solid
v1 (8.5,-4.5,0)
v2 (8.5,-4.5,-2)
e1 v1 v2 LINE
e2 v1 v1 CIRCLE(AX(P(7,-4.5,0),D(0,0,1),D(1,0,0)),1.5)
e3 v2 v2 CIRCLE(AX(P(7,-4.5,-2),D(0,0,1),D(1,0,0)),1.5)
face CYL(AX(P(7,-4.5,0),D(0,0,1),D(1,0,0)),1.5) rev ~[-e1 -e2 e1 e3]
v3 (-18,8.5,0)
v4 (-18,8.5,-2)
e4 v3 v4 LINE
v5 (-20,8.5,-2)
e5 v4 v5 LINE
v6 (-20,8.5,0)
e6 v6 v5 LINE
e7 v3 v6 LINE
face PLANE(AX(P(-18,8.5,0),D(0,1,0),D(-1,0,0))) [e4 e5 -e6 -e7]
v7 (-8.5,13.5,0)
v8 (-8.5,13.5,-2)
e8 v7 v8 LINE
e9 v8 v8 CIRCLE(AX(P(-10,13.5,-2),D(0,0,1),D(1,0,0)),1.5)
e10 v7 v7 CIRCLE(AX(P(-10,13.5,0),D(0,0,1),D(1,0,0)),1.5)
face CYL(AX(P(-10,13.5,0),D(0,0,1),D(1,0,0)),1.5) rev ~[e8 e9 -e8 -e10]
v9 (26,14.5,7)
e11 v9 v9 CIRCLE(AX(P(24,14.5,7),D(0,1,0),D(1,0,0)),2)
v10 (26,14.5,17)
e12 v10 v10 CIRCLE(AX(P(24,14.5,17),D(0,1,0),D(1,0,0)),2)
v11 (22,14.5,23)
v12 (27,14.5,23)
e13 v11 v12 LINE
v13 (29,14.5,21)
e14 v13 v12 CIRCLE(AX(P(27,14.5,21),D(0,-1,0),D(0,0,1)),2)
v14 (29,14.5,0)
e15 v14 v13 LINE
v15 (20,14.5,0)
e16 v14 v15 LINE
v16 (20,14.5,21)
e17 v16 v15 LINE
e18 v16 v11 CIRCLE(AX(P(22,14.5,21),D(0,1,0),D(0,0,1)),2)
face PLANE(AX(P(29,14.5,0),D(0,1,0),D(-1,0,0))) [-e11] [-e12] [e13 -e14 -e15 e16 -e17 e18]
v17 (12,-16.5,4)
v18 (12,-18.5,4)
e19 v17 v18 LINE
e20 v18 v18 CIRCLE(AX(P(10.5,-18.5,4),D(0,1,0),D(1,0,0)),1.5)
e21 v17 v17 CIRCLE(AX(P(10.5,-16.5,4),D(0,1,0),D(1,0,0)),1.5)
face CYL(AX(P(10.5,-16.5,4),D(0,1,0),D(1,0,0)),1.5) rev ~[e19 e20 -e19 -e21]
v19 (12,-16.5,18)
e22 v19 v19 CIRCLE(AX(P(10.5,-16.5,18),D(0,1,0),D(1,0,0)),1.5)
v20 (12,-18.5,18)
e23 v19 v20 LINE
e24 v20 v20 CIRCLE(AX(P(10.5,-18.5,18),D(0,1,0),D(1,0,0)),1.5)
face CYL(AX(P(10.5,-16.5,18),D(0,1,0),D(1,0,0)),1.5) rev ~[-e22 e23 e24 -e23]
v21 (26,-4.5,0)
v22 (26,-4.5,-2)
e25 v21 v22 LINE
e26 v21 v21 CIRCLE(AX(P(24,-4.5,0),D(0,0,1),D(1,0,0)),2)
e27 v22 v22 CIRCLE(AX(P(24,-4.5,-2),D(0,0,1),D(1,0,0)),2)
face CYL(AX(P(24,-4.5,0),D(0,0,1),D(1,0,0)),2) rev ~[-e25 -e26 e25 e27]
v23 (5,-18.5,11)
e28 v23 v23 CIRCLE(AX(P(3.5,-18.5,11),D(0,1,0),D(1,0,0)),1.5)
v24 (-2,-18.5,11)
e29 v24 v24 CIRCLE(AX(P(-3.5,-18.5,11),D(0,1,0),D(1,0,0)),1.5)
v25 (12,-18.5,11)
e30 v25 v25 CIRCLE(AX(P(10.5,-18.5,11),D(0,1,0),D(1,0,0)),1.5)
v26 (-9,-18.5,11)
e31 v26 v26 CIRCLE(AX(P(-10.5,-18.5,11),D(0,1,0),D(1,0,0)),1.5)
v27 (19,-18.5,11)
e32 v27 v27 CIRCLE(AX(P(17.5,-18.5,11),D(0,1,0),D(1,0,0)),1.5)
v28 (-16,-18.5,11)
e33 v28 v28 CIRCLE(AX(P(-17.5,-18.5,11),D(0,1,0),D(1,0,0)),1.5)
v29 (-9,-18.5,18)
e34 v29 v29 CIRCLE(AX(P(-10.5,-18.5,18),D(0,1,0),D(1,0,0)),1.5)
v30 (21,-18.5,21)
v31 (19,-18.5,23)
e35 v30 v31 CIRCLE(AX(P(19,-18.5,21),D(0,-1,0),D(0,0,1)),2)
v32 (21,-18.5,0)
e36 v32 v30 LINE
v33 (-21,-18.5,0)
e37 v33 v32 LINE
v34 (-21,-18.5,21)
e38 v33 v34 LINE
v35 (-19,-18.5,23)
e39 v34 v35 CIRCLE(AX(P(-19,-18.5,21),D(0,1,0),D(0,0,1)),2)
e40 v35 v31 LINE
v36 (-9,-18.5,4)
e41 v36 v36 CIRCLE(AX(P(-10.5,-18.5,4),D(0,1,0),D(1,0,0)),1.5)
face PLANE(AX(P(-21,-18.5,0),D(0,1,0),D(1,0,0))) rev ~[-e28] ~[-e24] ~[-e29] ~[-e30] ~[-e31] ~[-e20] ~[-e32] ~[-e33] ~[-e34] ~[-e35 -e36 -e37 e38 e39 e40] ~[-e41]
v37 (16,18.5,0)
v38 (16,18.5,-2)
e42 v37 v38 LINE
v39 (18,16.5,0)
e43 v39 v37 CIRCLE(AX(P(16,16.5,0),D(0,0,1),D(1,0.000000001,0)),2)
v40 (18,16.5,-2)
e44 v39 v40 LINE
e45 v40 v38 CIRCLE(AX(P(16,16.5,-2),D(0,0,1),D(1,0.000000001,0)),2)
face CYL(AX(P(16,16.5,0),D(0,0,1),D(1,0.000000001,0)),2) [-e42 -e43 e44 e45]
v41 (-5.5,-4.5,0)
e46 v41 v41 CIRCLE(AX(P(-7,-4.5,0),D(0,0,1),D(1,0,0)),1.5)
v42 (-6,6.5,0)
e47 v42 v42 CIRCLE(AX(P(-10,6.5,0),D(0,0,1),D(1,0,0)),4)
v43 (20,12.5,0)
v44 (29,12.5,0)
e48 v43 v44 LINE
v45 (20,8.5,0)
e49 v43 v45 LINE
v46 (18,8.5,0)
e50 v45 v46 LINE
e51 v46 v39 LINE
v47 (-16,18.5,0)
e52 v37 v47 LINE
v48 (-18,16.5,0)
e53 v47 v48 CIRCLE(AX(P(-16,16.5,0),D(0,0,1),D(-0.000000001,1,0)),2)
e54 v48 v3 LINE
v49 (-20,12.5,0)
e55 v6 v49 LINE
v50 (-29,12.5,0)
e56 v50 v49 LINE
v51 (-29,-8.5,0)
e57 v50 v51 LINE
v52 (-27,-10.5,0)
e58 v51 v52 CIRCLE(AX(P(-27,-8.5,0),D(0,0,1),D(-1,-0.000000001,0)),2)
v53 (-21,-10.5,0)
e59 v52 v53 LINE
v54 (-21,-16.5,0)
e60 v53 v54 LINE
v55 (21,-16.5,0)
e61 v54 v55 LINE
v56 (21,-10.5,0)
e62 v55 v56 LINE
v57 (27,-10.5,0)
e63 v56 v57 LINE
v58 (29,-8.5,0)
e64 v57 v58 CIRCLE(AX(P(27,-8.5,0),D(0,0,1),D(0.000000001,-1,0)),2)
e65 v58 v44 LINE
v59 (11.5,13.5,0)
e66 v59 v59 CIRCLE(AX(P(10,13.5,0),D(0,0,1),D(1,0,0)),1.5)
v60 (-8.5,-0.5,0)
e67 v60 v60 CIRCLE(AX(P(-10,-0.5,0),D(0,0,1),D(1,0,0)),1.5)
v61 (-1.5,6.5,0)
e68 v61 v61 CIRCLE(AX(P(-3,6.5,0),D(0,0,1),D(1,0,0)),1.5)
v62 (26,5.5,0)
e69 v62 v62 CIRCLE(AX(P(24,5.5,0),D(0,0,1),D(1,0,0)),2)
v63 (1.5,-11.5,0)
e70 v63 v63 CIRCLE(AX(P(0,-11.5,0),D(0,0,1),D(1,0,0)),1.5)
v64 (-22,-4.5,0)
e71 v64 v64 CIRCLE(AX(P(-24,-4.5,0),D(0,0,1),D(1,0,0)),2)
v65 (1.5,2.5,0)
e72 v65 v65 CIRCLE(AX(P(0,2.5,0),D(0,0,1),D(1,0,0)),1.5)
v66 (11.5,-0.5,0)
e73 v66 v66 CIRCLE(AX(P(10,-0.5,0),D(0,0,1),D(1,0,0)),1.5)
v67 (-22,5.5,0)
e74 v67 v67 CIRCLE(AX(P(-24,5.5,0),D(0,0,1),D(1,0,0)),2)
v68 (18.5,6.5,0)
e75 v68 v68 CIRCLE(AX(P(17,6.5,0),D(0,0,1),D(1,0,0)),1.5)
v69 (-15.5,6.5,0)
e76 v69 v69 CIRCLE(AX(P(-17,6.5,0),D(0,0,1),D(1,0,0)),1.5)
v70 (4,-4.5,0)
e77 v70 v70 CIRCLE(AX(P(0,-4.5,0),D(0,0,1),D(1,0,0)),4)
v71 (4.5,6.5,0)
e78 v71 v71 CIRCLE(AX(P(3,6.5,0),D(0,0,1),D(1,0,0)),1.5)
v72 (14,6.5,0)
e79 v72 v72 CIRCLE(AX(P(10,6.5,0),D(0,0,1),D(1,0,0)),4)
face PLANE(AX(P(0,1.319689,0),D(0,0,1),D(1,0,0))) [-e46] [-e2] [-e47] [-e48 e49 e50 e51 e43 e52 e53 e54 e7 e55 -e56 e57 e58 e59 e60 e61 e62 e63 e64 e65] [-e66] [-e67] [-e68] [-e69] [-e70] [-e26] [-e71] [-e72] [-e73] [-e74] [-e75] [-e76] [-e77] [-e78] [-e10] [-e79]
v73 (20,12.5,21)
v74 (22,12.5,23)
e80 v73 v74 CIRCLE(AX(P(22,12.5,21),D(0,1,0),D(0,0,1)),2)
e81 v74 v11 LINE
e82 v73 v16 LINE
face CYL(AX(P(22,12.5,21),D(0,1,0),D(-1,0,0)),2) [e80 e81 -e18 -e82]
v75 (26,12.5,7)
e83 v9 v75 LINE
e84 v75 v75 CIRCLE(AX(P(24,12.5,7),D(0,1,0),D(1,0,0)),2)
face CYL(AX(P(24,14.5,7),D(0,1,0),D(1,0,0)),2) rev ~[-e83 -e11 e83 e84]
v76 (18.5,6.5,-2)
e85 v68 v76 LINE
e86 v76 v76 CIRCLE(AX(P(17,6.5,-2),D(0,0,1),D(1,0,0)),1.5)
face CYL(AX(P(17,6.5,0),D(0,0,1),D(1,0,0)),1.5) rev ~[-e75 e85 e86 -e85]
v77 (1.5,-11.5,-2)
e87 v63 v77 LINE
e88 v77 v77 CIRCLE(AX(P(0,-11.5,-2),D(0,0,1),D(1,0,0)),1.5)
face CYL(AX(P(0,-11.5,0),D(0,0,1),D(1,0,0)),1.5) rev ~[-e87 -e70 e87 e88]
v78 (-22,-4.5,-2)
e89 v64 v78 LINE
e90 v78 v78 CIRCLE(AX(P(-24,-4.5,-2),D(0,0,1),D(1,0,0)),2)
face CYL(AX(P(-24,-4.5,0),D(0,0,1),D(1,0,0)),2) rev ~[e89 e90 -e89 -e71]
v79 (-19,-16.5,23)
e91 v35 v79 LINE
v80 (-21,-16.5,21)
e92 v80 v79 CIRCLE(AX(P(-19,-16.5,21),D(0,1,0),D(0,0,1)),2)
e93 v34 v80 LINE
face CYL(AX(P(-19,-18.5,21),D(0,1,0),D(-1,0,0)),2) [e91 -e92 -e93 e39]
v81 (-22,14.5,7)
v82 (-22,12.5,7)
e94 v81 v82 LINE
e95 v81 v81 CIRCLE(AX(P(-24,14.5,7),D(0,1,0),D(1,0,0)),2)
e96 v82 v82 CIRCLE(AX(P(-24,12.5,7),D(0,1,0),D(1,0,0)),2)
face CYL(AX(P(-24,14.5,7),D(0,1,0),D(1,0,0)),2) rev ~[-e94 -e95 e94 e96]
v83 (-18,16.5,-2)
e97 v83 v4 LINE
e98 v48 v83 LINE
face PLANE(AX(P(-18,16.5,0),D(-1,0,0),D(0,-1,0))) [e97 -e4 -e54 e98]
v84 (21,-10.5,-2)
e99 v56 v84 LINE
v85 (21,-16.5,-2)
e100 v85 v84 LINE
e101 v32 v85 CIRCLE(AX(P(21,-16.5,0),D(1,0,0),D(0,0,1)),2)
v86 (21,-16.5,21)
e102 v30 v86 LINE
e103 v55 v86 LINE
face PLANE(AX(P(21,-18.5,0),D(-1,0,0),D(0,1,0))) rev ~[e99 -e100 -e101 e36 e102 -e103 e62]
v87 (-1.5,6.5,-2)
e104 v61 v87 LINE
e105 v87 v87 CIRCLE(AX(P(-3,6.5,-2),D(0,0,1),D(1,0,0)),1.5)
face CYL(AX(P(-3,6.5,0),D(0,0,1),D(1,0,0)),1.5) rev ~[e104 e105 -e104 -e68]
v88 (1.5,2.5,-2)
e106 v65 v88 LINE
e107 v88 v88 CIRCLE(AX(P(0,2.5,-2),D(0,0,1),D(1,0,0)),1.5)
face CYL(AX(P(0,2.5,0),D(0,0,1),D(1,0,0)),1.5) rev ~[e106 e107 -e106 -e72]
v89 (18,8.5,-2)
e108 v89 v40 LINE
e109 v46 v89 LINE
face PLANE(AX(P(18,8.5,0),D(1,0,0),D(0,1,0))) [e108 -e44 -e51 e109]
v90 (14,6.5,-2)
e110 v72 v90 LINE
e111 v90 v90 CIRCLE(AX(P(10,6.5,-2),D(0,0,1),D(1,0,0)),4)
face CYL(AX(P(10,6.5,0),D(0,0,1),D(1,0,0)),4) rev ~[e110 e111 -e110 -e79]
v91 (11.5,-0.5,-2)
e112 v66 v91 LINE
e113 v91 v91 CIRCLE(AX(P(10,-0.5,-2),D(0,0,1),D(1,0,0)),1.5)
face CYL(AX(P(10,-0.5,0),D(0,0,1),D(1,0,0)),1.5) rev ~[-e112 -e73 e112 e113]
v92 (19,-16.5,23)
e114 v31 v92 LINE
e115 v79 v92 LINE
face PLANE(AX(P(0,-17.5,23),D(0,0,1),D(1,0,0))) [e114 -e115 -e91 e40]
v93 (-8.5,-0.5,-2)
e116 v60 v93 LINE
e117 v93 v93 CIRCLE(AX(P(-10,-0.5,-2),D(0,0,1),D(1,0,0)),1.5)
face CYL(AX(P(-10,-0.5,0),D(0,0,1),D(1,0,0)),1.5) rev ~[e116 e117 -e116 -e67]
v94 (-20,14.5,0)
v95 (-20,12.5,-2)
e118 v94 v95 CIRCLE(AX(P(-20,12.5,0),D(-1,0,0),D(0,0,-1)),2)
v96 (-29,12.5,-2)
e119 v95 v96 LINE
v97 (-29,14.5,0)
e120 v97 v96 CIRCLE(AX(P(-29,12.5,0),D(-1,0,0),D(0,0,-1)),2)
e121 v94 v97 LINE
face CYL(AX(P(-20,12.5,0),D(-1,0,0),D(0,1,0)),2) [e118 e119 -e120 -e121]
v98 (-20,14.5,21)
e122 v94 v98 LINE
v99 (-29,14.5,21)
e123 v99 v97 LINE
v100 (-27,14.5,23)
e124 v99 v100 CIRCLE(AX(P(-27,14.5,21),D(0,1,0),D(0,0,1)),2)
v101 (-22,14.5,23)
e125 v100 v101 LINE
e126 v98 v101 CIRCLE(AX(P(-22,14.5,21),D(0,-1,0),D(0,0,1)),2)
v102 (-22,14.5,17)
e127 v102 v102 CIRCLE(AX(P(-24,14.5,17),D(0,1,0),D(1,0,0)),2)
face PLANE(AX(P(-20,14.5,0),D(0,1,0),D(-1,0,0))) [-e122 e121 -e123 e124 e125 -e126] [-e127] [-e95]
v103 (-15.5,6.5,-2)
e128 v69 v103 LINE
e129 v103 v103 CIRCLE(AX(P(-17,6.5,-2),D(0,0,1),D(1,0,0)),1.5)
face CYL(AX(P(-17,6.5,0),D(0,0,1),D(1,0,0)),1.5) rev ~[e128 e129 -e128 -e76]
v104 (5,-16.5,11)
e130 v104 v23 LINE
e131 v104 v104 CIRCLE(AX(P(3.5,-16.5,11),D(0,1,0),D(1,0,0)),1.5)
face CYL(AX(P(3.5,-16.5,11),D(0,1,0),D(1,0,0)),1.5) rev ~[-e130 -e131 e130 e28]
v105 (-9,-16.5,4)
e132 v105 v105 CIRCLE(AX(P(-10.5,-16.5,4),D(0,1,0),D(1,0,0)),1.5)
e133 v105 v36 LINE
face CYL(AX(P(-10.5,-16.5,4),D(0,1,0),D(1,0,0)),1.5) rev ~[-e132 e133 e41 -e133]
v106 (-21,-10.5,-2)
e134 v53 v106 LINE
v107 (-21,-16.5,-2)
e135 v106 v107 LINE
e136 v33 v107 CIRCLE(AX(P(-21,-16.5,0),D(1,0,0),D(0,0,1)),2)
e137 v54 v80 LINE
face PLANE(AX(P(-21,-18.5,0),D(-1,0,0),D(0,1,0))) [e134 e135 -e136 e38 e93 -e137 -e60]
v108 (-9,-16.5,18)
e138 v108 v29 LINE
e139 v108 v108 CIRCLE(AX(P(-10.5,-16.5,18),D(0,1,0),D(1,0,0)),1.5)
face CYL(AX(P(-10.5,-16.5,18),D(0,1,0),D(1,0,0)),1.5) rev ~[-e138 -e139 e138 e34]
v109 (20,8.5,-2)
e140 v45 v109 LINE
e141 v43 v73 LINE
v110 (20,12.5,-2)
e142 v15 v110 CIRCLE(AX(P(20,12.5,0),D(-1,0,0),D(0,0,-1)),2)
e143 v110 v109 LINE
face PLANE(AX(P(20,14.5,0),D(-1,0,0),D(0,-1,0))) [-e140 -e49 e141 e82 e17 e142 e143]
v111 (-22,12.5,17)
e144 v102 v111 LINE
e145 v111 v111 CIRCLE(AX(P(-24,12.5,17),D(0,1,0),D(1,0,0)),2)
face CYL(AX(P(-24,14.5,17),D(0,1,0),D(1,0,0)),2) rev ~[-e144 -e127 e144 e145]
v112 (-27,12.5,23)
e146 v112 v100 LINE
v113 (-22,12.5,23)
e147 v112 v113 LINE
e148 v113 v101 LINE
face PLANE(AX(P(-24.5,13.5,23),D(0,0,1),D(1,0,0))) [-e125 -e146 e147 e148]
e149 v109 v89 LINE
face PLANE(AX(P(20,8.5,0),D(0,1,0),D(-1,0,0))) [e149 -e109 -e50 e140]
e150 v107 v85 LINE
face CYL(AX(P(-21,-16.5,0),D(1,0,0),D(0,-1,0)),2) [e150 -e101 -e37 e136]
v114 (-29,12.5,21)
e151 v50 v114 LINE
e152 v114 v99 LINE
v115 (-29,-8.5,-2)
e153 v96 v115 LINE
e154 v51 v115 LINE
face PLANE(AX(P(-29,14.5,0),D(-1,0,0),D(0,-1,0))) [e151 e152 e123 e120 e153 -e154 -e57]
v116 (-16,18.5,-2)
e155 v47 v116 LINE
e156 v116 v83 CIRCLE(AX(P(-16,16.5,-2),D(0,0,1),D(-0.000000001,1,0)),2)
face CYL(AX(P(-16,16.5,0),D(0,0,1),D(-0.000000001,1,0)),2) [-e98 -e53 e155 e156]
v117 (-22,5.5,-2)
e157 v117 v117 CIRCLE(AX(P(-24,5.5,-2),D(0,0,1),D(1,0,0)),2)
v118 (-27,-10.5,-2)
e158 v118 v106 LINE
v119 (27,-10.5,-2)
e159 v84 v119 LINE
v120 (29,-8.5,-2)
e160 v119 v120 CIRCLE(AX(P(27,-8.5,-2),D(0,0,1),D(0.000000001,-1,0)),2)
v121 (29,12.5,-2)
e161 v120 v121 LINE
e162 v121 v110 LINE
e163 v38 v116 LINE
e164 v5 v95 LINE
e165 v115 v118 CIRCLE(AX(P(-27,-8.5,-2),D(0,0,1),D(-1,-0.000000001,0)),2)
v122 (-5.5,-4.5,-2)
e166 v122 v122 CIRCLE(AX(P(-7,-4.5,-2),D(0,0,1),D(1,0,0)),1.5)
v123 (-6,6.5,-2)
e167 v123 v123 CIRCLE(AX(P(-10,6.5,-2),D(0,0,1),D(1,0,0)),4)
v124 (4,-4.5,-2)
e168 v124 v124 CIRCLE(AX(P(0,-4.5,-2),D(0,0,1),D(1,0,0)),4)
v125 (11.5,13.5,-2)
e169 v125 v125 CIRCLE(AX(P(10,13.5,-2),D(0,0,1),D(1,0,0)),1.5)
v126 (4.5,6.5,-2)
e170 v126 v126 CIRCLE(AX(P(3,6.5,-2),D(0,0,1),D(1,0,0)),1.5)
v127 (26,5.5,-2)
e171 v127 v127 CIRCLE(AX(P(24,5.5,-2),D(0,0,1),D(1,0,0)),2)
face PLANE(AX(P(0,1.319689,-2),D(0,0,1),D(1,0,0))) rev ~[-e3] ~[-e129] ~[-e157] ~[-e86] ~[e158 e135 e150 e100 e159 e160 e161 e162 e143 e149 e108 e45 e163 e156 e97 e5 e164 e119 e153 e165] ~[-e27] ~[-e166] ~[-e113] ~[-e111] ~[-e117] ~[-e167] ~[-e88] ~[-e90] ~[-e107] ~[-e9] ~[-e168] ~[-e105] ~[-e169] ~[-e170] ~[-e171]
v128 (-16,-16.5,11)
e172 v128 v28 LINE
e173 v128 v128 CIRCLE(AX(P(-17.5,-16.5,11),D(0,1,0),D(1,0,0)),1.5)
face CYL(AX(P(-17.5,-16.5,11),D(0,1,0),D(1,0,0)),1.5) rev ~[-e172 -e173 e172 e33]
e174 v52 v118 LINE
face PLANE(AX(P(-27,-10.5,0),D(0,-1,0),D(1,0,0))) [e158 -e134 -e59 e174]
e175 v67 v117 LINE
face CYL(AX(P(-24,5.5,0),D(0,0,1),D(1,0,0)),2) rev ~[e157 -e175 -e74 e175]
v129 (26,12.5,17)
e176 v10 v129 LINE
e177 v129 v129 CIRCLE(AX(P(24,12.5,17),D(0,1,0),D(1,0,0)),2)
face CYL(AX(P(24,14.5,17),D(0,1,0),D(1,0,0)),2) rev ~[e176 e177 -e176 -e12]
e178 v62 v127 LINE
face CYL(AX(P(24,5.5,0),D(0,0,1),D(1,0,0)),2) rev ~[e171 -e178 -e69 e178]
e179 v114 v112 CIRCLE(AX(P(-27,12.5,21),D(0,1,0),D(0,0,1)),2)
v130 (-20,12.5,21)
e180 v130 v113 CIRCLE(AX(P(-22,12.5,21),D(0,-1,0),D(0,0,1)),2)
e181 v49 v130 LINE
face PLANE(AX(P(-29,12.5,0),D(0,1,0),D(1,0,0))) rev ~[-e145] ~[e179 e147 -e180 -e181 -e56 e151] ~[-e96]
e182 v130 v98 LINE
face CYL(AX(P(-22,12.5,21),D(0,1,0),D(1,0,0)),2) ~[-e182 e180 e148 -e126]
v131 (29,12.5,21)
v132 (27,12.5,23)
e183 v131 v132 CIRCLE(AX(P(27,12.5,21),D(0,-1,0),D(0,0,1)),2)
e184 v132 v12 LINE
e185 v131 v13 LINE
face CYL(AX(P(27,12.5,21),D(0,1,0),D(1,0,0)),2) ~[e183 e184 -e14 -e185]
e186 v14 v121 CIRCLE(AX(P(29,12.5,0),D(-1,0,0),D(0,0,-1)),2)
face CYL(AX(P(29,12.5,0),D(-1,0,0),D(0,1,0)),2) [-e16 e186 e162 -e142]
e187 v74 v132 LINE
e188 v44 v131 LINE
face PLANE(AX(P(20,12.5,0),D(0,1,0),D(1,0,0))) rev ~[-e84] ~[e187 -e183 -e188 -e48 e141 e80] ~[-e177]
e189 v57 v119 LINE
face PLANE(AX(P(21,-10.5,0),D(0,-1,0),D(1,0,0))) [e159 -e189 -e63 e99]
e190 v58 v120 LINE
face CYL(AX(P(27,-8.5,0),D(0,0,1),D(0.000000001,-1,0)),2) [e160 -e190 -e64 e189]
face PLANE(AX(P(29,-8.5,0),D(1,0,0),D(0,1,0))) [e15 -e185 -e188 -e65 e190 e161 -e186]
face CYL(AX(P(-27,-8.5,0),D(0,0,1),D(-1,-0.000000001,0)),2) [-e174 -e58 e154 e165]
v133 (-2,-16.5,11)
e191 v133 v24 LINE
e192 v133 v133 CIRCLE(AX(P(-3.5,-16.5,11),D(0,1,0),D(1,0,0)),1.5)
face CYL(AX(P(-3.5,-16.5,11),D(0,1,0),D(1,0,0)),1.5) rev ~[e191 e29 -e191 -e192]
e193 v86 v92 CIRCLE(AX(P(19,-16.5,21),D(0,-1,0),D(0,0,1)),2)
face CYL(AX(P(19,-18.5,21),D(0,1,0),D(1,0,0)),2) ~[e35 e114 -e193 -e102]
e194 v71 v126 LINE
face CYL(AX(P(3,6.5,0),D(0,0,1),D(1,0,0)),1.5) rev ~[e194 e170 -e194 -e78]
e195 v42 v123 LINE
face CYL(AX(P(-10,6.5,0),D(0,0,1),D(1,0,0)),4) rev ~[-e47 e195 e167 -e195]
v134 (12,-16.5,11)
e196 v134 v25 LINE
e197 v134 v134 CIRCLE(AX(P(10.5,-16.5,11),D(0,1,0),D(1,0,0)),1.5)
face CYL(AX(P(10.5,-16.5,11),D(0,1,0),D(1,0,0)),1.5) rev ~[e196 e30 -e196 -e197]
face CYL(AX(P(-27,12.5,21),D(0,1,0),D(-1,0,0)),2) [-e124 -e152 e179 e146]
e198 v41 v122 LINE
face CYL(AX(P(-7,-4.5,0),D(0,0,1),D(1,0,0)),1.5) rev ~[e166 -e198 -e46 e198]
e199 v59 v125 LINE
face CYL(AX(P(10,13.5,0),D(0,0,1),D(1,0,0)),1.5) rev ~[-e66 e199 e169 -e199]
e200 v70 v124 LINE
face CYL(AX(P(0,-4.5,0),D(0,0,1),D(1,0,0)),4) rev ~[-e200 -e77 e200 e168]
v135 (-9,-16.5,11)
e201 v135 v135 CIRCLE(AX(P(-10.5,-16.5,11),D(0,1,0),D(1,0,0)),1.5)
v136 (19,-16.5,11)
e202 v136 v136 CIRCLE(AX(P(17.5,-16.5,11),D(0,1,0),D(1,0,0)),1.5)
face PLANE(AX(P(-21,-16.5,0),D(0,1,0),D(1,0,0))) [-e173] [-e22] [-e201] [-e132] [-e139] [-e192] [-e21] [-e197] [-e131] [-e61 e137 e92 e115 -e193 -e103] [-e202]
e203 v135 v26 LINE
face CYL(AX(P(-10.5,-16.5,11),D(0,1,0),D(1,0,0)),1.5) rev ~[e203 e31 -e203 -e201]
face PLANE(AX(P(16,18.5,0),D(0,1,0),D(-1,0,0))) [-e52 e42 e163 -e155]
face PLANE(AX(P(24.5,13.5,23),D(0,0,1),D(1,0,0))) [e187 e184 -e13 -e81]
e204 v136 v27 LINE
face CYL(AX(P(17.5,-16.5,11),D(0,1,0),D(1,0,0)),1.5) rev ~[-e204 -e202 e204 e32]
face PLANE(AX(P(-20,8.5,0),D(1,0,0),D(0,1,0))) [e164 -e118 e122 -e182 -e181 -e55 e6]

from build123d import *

# Parameters (mm, degrees)
BOSS_EXTRUDE1_DEPTH = 2
SKETCH1_3_W         = 42
SKETCH1_3_H         = 2
SKETCH1_3_W_2       = 9
BOSS_EXTRUDE2_DEPTH = 23
FILLET1_R           = 2
SKETCH2_R           = 1.5
CUT_EXTRUDE1_DEPTH  = 25
SKETCH3_R           = 2
SKETCH3_R_2         = 4
SKETCH3_R_3         = 1.5
CUT_EXTRUDE2_DEPTH  = 25
SKETCH4_R           = 2
CUT_EXTRUDE3_DEPTH  = 25


with BuildPart() as part:
    # Sketch1 → Boss-Extrude1 (new body)
    with BuildSketch(Plane.XY):
        with BuildLine():
            Line((-21, -18.5), (21, -18.5))
            Line((21, -18.5), (21, -10.5))
            Line((21, -10.5), (27, -10.5))
            ThreePointArc((27, -10.5), (28.414213562, -9.914213562), (29, -8.5))
            Line((29, -8.5), (29, 14.5))
            Line((29, 14.5), (20, 14.5))
            Line((20, 14.5), (20, 8.5))
            Line((20, 8.5), (18, 8.5))
            Line((18, 8.5), (18, 16.5))
            ThreePointArc((18, 16.5), (17.414213562, 17.914213562), (16, 18.5))
            Line((16, 18.5), (-16, 18.5))
            ThreePointArc((-16, 18.5), (-17.414213562, 17.914213562), (-18, 16.5))
            Line((-18, 16.5), (-18, 8.5))
            Line((-18, 8.5), (-20, 8.5))
            Line((-20, 8.5), (-20, 14.5))
            Line((-20, 14.5), (-29, 14.5))
            Line((-29, 14.5), (-29, -8.5))
            ThreePointArc((-29, -8.5), (-28.414213562, -9.914213562), (-27, -10.5))
            Line((-27, -10.5), (-21, -10.5))
            Line((-21, -10.5), (-21, -18.5))
        make_face()
    extrude(amount=-BOSS_EXTRUDE1_DEPTH)

    # Sketch1<3> → Boss-Extrude2 (add)
    with BuildSketch(Plane.XY):
        with Locations((0, -17.5)):
            Rectangle(SKETCH1_3_W, SKETCH1_3_H)
        with Locations((-24.5, 13.5)):
            Rectangle(SKETCH1_3_W_2, SKETCH1_3_H)
        with Locations((24.5, 13.5)):
            Rectangle(SKETCH1_3_W_2, SKETCH1_3_H)
    extrude(amount=BOSS_EXTRUDE2_DEPTH)

    # Fillet1
    fillet1_edges = [part.edges().sort_by_distance(p)[0] for p in [
        (0, -18.5, -2),
        (24.5, 14.5, -2),
        (21, -17.5, 23),
        (-21, -17.5, 23),
        (-29, 13.5, 23),
        (-20, 13.5, 23),
        (20, 13.5, 23),
        (29, 13.5, 23),
        (-24.5, 14.5, -2),
    ]]
    fillet(fillet1_edges, radius=FILLET1_R)

    # Sketch2 → Cut-Extrude1 (cut)
    with BuildSketch(Plane(origin=(0, -16.5, 0), x_dir=(1, 0, 0), z_dir=(0, 1, 0))):
        with Locations((17.5, -11)):
            Circle(SKETCH2_R)
        with Locations((10.5, -11)):
            Circle(SKETCH2_R)
        with Locations((10.5, -18)):
            Circle(SKETCH2_R)
        with Locations((3.5, -11)):
            Circle(SKETCH2_R)
        with Locations((10.5, -4)):
            Circle(SKETCH2_R)
        with Locations((-17.5, -11)):
            Circle(SKETCH2_R)
        with Locations((-10.5, -18)):
            Circle(SKETCH2_R)
        with Locations((-10.5, -11)):
            Circle(SKETCH2_R)
        with Locations((-3.5, -11)):
            Circle(SKETCH2_R)
        with Locations((-10.5, -4)):
            Circle(SKETCH2_R)
    extrude(amount=-CUT_EXTRUDE1_DEPTH, mode=Mode.SUBTRACT)

    # Sketch3 → Cut-Extrude2 (cut)
    with BuildSketch(Plane.XY):
        with Locations((-24, -4.5)):
            Circle(SKETCH3_R)
        with Locations((-24, 5.5)):
            Circle(SKETCH3_R)
        with Locations((-10, 6.5)):
            Circle(SKETCH3_R_2)
        with Locations((-3, 6.5)):
            Circle(SKETCH3_R_3)
        with Locations((-10, -0.5)):
            Circle(SKETCH3_R_3)
        with Locations((-17, 6.5)):
            Circle(SKETCH3_R_3)
        with Locations((-10, 13.5)):
            Circle(SKETCH3_R_3)
        with Locations((10, -0.5)):
            Circle(SKETCH3_R_3)
        with Locations((3, 6.5)):
            Circle(SKETCH3_R_3)
        with Locations((10, 13.5)):
            Circle(SKETCH3_R_3)
        with Locations((10, 6.5)):
            Circle(SKETCH3_R_2)
        with Locations((17, 6.5)):
            Circle(SKETCH3_R_3)
        with Locations((24, -4.5)):
            Circle(SKETCH3_R)
        with Locations((24, 5.5)):
            Circle(SKETCH3_R)
        with Locations((0, -4.5)):
            Circle(SKETCH3_R_2)
        with Locations((0, -11.5)):
            Circle(SKETCH3_R_3)
        with Locations((-7, -4.5)):
            Circle(SKETCH3_R_3)
        with Locations((0, 2.5)):
            Circle(SKETCH3_R_3)
        with Locations((7, -4.5)):
            Circle(SKETCH3_R_3)
    extrude(amount=-CUT_EXTRUDE2_DEPTH, mode=Mode.SUBTRACT)

    # Sketch4 → Cut-Extrude3 (cut)
    with BuildSketch(Plane(origin=(0, 14.5, 0), x_dir=(1, 0, 0), z_dir=(0, 1, 0))):
        with Locations((-24, -7)):
            Circle(SKETCH4_R)
        with Locations((-24, -17)):
            Circle(SKETCH4_R)
        with Locations((24, -17)):
            Circle(SKETCH4_R)
        with Locations((24, -7)):
            Circle(SKETCH4_R)
    extrude(amount=-CUT_EXTRUDE3_DEPTH, mode=Mode.SUBTRACT)


solid = part.part
